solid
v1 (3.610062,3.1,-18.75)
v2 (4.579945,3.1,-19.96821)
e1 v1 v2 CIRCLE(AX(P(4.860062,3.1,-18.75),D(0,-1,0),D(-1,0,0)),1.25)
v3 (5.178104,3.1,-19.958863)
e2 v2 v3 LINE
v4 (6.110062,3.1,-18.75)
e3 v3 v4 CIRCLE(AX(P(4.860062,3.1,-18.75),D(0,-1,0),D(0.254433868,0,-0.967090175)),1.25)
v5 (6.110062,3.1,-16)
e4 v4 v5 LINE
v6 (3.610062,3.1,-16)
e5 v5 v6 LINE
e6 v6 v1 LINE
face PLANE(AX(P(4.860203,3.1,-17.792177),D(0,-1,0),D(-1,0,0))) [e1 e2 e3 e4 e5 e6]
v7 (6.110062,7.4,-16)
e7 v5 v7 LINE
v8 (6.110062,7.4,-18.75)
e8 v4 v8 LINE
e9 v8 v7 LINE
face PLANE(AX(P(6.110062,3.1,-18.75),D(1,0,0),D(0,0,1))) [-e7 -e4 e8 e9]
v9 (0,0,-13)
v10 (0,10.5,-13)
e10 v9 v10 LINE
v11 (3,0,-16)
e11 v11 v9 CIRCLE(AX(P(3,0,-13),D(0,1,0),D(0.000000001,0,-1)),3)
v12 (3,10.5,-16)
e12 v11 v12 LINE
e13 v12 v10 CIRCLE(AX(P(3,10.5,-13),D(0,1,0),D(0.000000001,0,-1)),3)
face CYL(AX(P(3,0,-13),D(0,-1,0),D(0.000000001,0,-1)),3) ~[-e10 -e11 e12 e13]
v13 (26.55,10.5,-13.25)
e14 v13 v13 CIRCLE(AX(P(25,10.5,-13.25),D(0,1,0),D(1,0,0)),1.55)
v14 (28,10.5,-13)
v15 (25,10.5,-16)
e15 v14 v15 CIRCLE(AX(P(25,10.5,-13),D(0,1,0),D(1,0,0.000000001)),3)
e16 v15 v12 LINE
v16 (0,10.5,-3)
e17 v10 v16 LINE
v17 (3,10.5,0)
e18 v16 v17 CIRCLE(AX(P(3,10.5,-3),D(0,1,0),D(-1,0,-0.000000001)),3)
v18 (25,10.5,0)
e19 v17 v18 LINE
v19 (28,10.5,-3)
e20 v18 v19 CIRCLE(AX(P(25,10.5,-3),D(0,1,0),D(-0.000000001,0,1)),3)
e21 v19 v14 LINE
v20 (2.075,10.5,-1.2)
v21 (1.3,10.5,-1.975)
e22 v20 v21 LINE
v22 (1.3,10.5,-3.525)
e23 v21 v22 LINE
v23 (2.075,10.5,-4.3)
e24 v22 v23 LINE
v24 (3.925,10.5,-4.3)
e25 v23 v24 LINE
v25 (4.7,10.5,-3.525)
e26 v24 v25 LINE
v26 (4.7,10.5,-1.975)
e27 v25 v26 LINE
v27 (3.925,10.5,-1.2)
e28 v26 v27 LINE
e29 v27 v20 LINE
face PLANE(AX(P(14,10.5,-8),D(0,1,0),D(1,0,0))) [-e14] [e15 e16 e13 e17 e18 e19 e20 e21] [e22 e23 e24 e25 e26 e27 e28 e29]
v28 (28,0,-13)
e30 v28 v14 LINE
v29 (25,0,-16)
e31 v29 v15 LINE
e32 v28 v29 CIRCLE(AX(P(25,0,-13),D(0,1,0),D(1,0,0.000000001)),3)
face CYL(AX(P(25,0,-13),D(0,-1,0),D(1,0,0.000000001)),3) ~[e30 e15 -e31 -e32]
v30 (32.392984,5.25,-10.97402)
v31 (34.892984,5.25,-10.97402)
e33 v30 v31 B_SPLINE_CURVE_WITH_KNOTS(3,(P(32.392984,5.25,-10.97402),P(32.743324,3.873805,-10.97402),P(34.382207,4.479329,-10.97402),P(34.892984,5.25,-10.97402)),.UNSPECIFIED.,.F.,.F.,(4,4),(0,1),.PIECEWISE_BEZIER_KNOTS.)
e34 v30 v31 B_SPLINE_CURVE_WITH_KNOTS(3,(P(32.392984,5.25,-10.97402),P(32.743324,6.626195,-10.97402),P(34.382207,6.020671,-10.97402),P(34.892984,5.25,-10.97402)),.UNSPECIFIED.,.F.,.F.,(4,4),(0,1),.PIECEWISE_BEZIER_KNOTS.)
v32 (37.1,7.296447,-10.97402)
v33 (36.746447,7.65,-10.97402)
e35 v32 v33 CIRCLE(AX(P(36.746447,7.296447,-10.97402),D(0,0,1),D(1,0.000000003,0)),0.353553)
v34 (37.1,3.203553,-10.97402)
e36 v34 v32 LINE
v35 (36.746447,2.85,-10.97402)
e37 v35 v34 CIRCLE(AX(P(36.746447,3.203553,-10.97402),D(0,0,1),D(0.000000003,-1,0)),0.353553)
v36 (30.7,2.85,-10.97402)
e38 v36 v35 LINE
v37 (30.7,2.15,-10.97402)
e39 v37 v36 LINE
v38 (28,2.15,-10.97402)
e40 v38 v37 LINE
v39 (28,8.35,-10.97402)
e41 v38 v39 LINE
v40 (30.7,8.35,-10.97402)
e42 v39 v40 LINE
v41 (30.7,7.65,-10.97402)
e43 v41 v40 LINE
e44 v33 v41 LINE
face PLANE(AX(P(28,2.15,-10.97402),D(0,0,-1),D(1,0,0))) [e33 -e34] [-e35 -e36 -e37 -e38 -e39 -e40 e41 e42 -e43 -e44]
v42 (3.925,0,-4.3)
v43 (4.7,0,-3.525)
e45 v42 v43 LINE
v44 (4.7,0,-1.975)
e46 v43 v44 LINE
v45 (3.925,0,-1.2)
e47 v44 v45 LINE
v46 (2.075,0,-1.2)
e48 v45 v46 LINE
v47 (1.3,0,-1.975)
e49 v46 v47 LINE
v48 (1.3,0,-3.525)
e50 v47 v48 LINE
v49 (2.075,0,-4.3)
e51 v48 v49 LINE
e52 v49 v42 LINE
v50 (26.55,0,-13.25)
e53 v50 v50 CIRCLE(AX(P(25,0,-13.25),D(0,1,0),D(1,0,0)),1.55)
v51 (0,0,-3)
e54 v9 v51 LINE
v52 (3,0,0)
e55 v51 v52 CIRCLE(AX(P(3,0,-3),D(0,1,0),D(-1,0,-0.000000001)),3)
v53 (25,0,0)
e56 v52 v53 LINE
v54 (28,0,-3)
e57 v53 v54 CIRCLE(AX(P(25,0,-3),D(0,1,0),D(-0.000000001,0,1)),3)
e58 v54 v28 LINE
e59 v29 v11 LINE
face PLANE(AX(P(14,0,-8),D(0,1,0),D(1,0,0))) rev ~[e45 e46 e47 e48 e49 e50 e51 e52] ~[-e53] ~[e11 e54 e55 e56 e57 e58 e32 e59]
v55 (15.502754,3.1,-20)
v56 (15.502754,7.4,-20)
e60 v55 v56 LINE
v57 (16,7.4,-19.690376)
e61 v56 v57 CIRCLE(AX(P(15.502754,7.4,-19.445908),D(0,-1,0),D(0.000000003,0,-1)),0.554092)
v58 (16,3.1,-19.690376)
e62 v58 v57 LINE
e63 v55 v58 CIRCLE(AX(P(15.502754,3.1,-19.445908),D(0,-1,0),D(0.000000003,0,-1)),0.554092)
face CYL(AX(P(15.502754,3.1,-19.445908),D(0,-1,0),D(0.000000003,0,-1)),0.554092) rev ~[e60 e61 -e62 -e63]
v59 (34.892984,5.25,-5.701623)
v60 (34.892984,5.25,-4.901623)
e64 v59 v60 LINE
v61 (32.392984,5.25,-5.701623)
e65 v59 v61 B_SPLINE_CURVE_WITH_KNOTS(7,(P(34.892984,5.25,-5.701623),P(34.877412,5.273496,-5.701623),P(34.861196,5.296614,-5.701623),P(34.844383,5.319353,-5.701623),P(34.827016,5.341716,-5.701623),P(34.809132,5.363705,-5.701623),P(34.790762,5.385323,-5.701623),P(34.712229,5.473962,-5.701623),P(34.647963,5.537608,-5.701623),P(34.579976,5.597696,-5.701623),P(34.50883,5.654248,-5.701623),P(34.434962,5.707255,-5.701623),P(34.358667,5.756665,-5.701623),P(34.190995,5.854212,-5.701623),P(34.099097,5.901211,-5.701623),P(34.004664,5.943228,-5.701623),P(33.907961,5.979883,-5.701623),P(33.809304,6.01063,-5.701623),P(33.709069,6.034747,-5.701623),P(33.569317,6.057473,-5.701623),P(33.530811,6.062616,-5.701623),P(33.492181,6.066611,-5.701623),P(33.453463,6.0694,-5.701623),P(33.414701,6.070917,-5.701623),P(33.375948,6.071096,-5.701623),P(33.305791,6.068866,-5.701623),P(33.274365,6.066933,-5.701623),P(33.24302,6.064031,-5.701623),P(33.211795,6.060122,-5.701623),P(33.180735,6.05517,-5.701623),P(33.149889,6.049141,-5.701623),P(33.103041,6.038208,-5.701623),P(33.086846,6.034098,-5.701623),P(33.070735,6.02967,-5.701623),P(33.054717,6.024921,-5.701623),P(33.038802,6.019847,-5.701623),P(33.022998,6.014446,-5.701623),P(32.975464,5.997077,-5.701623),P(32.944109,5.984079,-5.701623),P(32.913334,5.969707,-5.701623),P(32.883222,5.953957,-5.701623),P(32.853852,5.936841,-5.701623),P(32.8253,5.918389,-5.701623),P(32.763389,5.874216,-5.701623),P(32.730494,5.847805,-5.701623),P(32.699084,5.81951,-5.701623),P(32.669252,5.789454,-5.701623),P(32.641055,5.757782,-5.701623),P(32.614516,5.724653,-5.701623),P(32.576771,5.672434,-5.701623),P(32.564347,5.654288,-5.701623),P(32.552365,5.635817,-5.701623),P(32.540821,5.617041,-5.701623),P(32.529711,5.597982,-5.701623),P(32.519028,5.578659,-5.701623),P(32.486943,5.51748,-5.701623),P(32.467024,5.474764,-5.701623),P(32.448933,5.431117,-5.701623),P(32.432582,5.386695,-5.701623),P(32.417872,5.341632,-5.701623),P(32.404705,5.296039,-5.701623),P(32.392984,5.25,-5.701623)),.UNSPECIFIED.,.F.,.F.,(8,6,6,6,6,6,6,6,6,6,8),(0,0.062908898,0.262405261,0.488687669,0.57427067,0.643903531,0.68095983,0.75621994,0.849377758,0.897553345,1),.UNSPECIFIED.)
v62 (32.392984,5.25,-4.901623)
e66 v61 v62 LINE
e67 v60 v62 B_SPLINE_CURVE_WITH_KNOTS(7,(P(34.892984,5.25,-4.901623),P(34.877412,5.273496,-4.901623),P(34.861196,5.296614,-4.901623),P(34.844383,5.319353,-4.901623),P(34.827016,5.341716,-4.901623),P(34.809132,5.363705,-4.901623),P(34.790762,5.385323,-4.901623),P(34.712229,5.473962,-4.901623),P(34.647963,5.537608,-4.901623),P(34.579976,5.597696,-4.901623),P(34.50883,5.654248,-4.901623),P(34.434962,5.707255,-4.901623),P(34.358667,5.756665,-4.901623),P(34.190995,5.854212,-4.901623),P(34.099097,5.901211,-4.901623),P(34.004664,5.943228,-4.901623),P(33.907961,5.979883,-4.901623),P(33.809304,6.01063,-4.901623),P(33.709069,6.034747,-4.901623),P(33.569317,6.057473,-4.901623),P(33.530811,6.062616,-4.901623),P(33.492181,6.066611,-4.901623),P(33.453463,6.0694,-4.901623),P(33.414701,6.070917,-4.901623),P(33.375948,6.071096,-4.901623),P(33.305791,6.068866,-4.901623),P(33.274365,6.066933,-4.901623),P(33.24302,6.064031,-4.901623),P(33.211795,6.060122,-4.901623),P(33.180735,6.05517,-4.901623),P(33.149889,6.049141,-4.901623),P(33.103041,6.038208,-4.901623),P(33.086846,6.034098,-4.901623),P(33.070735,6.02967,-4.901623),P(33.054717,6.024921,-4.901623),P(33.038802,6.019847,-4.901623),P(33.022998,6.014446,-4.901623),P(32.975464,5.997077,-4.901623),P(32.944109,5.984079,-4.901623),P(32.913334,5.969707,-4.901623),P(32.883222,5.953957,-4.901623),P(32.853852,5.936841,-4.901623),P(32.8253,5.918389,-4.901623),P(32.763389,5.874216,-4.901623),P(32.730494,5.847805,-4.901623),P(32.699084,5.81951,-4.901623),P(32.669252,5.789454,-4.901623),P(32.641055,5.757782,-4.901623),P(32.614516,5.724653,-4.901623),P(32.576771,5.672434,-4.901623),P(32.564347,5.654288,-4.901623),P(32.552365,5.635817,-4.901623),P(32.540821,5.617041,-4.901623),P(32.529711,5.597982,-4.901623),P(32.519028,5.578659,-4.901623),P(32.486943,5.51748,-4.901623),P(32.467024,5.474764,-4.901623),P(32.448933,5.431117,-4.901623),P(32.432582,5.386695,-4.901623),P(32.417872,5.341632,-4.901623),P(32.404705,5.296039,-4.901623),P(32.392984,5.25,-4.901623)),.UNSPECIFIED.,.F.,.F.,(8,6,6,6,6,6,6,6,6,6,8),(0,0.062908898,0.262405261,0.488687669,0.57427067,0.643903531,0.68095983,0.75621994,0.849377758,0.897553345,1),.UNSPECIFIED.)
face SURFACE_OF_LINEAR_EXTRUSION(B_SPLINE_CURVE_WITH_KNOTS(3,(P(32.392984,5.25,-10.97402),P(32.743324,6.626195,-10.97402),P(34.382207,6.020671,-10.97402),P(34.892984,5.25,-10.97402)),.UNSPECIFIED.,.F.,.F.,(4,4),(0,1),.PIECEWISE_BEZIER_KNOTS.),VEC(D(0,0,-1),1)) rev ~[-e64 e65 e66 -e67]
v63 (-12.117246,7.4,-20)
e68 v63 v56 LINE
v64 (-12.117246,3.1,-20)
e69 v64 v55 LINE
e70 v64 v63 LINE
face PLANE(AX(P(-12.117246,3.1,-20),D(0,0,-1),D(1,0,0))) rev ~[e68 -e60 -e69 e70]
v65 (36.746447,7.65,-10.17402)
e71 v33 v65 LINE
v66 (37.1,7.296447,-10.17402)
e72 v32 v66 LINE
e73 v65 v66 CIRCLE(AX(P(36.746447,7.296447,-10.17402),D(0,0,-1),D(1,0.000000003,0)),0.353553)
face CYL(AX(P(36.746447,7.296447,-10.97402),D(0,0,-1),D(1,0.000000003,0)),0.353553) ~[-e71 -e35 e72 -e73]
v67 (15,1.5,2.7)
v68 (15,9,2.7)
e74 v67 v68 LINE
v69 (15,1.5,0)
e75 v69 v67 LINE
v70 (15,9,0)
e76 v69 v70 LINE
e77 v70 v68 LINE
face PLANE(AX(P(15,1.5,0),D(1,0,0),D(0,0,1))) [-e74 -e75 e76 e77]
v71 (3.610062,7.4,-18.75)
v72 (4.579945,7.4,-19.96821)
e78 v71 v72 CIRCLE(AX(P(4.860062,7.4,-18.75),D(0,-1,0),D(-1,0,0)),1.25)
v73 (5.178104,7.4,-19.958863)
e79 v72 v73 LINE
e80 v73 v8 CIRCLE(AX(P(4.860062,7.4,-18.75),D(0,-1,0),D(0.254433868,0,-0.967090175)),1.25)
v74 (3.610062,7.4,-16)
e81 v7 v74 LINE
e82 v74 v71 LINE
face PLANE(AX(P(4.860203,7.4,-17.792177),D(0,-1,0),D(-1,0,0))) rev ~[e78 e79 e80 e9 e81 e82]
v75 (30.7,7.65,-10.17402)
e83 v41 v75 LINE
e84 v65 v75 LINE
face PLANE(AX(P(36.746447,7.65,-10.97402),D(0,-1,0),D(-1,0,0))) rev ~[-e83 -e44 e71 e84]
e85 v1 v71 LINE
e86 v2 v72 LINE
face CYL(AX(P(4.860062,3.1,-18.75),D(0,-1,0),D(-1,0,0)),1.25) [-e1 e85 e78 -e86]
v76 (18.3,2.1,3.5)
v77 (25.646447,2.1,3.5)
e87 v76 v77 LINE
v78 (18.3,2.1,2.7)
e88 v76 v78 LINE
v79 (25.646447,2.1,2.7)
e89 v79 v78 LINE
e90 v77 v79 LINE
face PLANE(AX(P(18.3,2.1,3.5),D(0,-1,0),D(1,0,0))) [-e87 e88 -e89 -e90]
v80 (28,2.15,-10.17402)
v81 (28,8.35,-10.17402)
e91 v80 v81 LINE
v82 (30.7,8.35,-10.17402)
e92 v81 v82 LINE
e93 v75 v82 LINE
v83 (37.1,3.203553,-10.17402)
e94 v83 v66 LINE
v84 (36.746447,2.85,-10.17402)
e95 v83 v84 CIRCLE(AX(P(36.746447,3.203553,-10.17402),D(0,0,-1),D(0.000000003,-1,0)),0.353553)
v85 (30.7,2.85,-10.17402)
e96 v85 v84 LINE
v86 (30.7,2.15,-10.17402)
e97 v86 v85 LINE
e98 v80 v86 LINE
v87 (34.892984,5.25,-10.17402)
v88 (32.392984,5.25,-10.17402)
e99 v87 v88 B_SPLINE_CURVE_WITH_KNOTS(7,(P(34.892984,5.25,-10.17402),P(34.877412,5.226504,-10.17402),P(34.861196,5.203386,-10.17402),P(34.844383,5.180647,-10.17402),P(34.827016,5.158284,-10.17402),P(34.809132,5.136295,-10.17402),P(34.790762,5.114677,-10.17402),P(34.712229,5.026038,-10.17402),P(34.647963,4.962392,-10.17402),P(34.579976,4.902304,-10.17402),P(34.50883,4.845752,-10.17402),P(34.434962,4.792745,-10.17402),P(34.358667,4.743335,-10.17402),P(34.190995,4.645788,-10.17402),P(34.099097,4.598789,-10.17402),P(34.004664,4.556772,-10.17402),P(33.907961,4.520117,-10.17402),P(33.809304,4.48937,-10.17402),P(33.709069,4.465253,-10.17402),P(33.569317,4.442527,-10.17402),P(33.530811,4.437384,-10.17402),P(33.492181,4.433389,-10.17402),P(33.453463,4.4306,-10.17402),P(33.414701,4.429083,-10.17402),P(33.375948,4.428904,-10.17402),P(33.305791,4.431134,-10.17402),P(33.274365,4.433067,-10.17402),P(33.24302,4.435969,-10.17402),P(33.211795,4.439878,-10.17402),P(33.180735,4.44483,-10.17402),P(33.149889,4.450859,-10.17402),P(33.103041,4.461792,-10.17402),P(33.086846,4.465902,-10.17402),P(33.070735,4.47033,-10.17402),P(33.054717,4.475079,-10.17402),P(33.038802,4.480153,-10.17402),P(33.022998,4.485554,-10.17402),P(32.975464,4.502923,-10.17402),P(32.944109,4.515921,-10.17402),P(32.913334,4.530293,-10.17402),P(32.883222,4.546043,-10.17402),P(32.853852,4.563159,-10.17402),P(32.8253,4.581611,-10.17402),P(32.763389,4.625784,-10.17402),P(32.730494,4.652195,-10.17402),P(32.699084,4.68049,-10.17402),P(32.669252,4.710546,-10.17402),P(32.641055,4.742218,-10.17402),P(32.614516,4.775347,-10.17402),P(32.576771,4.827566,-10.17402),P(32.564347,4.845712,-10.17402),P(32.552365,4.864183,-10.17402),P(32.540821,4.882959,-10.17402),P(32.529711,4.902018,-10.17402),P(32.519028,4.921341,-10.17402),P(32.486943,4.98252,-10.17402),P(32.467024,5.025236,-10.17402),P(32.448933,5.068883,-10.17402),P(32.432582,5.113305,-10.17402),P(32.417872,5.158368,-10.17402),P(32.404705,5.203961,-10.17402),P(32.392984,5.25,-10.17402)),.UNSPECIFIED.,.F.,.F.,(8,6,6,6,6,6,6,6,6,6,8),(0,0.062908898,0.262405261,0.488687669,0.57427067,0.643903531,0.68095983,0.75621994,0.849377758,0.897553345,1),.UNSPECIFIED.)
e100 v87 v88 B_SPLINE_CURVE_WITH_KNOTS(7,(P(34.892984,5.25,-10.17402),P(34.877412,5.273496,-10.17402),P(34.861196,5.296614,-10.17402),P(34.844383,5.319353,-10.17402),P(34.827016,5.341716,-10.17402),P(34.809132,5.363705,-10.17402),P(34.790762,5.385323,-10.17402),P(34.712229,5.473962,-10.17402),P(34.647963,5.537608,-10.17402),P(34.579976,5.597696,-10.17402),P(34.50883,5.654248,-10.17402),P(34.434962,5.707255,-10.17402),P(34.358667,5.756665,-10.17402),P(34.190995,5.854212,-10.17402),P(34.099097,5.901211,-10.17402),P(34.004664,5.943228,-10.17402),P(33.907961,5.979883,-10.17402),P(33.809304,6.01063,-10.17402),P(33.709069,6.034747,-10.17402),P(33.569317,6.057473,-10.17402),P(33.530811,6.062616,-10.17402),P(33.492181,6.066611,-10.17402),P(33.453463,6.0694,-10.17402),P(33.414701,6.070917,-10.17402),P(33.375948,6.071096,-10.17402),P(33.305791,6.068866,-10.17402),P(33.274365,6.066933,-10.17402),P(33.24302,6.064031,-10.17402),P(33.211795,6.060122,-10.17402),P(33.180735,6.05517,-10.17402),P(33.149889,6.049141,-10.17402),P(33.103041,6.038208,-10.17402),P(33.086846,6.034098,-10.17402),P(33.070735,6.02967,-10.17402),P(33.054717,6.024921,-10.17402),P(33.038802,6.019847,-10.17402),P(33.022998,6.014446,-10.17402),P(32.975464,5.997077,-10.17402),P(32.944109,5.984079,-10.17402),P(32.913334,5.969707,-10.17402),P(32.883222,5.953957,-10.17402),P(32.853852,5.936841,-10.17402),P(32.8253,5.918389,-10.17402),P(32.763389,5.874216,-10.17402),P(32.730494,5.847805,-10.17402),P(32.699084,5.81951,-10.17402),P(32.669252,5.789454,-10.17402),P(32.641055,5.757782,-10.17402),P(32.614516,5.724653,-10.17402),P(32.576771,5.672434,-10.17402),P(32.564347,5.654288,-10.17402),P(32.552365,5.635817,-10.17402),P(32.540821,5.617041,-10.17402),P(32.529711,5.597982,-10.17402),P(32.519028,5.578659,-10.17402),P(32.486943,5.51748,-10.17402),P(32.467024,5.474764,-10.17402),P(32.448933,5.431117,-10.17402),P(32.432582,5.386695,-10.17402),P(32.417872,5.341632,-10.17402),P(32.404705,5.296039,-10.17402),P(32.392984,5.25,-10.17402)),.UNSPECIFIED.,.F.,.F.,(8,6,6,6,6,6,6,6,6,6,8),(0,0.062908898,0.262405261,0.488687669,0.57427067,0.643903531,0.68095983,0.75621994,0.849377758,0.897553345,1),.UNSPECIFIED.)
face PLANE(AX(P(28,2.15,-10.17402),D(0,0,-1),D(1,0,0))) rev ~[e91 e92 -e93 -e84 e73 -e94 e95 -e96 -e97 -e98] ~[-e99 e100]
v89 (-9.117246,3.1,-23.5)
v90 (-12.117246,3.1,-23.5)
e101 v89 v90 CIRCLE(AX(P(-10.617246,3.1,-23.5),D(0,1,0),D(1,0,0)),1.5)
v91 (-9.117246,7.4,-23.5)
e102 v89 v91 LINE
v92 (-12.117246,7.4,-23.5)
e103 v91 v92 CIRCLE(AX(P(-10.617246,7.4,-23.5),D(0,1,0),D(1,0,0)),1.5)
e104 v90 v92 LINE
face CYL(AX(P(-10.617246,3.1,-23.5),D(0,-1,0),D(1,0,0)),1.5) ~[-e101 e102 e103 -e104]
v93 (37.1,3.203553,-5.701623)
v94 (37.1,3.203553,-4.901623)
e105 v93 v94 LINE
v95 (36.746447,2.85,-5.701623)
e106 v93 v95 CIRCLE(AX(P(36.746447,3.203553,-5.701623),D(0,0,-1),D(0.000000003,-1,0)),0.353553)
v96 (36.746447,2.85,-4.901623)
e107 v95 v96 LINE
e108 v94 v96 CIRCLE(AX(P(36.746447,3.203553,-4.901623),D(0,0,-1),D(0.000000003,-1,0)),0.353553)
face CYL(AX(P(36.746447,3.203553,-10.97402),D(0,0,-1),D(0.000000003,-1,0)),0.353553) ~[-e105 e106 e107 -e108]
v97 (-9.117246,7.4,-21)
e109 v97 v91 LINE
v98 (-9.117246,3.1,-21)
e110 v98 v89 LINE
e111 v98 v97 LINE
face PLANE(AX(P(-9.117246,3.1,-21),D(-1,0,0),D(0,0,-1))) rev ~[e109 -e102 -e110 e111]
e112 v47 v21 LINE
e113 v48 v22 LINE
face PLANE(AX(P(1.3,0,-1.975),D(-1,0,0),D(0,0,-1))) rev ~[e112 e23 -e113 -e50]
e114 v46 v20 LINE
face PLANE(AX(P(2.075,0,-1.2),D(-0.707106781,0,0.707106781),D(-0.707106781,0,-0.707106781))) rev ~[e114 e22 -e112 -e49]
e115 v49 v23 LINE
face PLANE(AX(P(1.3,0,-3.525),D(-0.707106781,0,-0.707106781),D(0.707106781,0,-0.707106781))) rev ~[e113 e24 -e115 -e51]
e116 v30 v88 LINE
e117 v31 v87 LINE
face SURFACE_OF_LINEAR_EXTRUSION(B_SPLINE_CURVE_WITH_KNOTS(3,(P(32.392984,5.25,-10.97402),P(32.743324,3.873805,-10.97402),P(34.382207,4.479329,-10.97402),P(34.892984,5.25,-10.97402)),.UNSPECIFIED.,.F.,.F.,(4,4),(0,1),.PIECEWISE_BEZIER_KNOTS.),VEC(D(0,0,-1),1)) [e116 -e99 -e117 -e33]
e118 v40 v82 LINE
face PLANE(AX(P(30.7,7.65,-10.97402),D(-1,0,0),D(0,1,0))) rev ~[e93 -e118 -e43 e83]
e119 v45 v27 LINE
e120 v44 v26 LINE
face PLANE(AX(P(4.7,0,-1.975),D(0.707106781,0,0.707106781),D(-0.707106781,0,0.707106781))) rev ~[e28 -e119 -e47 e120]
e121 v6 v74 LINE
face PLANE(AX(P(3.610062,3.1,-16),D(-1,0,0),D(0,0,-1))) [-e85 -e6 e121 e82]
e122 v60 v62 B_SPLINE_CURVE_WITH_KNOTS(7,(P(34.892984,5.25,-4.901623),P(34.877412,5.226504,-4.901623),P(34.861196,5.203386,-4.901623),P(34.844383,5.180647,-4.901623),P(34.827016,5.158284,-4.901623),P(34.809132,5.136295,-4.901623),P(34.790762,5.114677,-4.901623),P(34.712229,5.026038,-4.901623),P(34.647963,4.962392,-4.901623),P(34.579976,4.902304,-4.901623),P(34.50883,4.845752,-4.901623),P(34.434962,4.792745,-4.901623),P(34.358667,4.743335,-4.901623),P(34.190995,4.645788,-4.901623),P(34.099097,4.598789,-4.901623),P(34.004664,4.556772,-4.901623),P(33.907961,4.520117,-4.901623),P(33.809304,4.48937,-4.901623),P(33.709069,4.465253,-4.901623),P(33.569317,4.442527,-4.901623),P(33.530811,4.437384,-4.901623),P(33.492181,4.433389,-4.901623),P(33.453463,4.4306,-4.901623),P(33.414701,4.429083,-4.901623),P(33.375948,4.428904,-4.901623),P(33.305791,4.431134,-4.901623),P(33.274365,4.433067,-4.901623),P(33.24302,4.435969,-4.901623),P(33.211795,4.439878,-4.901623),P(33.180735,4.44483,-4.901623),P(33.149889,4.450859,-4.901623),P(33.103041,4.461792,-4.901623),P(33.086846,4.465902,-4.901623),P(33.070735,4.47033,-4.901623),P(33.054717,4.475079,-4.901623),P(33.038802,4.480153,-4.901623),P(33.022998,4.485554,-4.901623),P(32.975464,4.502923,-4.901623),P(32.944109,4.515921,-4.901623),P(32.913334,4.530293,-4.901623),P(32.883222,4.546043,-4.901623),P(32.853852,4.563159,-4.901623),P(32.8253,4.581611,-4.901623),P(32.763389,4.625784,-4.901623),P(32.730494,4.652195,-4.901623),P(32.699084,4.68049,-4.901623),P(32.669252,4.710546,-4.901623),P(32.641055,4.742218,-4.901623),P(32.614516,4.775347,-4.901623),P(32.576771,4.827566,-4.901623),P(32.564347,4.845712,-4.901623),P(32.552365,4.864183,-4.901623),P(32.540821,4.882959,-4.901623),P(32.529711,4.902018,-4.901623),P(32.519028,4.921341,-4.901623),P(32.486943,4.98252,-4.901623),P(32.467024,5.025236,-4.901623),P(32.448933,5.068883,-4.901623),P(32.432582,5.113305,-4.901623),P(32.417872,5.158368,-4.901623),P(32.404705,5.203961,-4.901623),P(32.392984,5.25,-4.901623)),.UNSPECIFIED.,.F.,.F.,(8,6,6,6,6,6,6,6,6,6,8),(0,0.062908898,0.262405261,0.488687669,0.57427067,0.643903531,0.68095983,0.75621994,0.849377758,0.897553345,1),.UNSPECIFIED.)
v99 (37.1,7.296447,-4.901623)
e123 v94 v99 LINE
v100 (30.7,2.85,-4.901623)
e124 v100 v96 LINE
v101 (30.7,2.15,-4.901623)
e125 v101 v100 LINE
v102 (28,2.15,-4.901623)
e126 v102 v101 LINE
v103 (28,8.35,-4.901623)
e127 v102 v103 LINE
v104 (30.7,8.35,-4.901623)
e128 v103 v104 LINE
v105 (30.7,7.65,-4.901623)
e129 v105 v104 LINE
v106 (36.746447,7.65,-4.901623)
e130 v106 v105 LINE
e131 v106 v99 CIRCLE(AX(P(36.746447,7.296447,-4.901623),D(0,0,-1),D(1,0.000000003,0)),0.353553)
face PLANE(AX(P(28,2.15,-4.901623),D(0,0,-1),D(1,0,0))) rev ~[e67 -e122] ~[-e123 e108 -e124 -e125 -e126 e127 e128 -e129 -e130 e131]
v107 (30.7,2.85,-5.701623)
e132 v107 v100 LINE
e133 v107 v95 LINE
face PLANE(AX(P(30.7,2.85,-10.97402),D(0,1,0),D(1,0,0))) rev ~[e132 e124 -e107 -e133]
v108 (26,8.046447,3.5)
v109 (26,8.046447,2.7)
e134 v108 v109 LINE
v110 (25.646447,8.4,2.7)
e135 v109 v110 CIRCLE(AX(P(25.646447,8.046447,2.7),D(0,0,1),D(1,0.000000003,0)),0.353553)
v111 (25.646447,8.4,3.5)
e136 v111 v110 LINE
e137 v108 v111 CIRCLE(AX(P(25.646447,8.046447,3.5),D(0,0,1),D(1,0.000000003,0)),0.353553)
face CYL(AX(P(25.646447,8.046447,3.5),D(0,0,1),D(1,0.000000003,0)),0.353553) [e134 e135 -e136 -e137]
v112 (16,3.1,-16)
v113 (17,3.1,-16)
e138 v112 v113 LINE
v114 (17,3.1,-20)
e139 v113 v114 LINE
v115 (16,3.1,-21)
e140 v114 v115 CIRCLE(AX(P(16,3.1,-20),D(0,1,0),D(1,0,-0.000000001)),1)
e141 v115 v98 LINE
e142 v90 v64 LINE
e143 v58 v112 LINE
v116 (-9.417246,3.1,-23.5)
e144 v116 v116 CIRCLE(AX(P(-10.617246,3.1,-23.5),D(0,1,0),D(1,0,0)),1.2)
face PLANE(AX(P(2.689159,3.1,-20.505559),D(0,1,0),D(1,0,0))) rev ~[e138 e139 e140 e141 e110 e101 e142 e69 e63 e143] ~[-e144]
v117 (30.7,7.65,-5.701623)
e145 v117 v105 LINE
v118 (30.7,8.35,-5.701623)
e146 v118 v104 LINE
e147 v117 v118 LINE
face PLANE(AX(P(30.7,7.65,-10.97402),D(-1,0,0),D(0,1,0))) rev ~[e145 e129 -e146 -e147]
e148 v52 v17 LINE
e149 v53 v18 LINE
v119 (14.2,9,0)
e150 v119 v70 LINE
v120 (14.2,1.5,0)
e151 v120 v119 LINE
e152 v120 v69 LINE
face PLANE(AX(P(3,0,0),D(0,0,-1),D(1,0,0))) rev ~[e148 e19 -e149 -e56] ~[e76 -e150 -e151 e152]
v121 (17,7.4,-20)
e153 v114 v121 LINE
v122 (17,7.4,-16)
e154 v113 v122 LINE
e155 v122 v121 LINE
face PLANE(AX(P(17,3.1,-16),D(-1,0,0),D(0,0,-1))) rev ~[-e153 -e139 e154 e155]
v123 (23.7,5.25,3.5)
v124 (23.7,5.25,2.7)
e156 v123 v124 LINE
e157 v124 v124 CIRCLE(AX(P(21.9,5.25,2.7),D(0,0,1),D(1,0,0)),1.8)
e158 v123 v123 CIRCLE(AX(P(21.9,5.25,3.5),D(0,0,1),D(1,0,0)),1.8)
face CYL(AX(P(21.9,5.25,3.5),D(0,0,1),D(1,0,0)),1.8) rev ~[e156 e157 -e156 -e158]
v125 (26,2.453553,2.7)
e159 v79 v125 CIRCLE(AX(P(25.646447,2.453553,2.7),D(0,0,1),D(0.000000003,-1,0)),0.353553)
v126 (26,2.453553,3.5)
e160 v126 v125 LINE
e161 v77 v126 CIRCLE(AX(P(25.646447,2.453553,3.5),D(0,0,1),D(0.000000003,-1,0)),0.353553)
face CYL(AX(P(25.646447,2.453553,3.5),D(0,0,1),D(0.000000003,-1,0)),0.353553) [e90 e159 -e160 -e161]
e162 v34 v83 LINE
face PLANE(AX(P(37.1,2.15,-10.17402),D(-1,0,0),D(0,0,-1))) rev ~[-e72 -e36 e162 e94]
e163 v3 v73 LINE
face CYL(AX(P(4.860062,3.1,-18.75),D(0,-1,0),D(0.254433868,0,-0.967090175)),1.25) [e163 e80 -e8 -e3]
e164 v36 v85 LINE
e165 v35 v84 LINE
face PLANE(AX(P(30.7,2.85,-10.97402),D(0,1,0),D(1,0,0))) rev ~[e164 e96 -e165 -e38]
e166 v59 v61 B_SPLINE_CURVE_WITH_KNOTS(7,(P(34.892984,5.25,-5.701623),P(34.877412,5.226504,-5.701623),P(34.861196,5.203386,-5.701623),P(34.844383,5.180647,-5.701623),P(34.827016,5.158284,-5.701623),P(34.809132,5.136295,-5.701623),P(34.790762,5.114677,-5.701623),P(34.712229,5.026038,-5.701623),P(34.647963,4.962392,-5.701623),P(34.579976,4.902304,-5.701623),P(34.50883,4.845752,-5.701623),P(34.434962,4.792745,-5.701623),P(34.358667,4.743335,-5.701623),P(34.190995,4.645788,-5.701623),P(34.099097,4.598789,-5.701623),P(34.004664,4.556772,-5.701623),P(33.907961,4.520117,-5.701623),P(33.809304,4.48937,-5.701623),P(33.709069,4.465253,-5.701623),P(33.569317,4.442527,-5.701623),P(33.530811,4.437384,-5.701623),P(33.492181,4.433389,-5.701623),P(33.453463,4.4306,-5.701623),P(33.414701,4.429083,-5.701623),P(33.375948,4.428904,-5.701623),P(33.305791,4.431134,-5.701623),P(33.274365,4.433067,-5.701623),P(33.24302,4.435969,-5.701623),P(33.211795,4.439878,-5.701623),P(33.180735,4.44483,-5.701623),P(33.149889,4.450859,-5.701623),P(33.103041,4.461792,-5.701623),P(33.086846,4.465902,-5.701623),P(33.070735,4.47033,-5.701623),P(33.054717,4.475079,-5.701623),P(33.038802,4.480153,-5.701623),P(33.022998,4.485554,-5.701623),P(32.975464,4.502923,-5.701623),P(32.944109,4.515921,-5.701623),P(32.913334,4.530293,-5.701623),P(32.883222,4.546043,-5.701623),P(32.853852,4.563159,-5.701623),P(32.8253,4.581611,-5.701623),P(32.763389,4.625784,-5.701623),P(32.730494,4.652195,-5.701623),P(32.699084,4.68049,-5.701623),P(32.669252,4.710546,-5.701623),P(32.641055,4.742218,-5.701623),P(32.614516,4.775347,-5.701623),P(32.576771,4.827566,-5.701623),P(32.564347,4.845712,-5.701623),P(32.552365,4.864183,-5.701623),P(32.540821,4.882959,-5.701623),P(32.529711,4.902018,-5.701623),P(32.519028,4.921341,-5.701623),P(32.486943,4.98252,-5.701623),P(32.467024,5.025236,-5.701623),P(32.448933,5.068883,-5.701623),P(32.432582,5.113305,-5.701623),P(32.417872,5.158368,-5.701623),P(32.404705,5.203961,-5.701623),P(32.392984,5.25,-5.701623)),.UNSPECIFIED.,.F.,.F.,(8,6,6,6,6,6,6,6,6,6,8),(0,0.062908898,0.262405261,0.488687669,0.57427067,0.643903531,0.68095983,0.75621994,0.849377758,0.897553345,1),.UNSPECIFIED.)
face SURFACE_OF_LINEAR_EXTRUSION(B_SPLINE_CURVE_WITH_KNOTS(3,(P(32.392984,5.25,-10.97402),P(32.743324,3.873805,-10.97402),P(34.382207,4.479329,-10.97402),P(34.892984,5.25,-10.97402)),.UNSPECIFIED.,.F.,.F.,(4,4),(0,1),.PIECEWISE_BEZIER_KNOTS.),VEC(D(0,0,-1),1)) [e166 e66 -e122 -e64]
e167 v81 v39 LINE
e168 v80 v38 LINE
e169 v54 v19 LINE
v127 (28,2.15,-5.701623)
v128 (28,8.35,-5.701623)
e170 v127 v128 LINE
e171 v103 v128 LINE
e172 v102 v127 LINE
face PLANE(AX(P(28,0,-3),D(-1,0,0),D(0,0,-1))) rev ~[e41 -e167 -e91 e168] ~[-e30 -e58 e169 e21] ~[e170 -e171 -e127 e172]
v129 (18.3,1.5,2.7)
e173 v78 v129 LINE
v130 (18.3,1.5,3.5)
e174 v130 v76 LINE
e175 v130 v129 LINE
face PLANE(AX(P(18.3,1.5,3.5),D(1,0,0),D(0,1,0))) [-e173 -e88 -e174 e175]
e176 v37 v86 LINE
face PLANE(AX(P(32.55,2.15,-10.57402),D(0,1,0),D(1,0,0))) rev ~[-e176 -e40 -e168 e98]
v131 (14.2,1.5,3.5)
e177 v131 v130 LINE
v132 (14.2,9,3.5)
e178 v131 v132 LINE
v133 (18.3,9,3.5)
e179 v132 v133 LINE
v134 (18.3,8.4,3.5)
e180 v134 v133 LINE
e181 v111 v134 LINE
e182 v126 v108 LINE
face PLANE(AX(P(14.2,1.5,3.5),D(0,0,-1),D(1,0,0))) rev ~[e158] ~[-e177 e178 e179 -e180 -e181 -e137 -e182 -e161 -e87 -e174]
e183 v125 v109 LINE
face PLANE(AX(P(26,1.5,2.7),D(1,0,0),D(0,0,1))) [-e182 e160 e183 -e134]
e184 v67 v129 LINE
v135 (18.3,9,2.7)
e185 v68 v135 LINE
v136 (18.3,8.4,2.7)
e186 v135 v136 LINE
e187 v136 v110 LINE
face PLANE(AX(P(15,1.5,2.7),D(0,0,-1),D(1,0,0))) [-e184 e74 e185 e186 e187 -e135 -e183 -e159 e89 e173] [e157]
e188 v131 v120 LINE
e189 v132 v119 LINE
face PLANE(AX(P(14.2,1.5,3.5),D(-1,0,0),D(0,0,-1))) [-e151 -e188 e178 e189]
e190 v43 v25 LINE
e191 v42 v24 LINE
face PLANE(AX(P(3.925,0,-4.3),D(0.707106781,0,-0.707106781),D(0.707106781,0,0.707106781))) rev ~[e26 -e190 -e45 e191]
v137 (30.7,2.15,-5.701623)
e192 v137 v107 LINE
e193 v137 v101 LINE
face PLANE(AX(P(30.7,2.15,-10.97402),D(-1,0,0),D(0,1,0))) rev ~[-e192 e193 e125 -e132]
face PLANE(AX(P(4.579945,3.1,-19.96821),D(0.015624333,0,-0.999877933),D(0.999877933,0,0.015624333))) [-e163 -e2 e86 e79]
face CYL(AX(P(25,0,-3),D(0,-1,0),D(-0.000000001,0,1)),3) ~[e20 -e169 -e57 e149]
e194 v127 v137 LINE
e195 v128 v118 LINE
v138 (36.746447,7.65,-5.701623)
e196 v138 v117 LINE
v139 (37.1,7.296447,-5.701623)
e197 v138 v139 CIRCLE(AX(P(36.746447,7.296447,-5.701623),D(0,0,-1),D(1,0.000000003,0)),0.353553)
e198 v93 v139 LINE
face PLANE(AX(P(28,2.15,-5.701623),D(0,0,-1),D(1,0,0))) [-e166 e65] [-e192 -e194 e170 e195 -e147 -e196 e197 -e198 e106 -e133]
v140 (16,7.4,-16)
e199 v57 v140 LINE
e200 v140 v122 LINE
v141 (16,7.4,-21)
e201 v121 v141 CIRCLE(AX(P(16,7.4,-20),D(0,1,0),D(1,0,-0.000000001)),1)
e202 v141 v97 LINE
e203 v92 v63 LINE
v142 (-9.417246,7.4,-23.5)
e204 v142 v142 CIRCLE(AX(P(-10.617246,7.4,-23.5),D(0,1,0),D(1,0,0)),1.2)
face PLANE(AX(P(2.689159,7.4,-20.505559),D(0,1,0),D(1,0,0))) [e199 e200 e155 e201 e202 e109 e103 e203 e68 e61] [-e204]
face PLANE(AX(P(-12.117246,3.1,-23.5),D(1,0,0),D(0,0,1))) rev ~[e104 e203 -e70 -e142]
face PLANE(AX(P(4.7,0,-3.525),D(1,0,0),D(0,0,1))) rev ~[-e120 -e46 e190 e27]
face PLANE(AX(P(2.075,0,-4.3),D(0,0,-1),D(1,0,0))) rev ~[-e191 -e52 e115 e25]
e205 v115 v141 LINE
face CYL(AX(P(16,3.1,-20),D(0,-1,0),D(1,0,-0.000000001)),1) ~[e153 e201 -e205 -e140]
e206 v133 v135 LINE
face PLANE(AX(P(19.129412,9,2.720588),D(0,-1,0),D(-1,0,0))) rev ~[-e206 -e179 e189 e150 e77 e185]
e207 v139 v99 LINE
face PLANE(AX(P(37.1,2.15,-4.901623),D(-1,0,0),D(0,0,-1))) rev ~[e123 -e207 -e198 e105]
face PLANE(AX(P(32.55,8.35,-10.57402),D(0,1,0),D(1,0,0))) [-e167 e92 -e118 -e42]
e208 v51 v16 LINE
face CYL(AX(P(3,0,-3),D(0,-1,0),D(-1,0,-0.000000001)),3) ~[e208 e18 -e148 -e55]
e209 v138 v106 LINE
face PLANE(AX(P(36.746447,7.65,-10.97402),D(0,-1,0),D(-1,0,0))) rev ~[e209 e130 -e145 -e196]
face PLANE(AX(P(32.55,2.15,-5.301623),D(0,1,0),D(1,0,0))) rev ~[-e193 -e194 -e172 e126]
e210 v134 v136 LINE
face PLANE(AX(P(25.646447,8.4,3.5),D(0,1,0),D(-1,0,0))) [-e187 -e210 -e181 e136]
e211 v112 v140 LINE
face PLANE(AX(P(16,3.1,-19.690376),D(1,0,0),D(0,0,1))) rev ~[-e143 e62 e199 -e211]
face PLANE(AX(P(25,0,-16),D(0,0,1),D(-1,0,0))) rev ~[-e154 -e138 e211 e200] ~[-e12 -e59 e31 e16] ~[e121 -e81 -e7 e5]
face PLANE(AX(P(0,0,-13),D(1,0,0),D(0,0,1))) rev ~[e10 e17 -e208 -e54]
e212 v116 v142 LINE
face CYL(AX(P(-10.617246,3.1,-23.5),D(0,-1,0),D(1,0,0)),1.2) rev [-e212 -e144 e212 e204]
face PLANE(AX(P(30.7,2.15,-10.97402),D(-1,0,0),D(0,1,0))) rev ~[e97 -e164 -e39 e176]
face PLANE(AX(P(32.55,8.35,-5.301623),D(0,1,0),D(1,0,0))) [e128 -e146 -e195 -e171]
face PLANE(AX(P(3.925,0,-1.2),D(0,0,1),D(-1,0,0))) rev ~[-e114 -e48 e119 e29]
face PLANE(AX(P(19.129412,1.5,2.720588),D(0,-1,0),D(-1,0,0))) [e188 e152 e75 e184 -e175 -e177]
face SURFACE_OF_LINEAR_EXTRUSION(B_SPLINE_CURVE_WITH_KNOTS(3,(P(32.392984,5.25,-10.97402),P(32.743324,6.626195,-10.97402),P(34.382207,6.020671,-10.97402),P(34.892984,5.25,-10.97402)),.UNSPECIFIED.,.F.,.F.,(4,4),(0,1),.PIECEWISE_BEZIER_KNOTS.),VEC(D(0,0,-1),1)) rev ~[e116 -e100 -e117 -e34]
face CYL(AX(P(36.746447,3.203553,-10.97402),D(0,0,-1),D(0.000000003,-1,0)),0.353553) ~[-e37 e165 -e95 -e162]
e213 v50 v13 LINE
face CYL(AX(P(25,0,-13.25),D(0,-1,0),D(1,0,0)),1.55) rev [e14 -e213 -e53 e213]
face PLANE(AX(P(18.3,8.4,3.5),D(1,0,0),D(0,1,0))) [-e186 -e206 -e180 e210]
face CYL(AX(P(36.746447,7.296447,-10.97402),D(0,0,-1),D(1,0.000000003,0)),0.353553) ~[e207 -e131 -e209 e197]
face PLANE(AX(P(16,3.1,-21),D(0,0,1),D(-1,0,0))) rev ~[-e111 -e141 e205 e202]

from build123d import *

# Parameters (mm, degrees)
CROQUIS1_R              = 1.55
SALIENTE_EXTRUIR1_DEPTH = 10.5
CROQUIS2_R              = 1.2
SALIENTE_EXTRUIR2_DEPTH = 4.3
SALIENTE_EXTRUIR6_DEPTH = 4.3
SALIENTE_EXTRUIR7_DEPTH = 7.5
CROQUIS5_R              = 1.8
CORTAR_EXTRUIR1_DEPTH   = 1.5
CROQUIS6_W              = 9.1
CROQUIS6_H              = 0.8
SALIENTE_EXTRUIR8_DEPTH = 6.2
CORTAR_EXTRUIR2_DEPTH   = 7.2


with BuildPart() as part:
    # Croquis1 → Saliente-Extruir1 (new body)
    with BuildSketch(Plane(origin=(0, 0, 0), x_dir=(1, 0, 0), z_dir=(0, 1, 0))):
        with BuildLine():
            Line((3, 0), (25, 0))
            ThreePointArc((25, 0), (27.121320344, 0.878679656), (28, 3))
            Line((28, 3), (28, 13))
            ThreePointArc((28, 13), (27.121320344, 15.121320344), (25, 16))
            Line((25, 16), (3, 16))
            ThreePointArc((3, 16), (0.878679656, 15.121320344), (0, 13))
            Line((0, 13), (0, 3))
            ThreePointArc((0, 3), (0.878679656, 0.878679656), (3, 0))
        make_face()
        with Locations((25, 13.25)):
            Circle(CROQUIS1_R, mode=Mode.SUBTRACT)
        Polygon((1.3, 3.525), (2.075, 4.3), (3.925, 4.3), (4.7, 3.525), (4.7, 1.975), (3.925, 1.2), (2.075, 1.2), (1.3, 1.975), (1.3, 2.75), align=None, mode=Mode.SUBTRACT)
    extrude(amount=SALIENTE_EXTRUIR1_DEPTH)

    # Croquis2 → Saliente-Extruir2 (add)
    with BuildSketch(Plane(origin=(0, 3.1, 0), x_dir=(1, 0, 0), z_dir=(0, 1, 0))):
        with BuildLine():
            Line((-12.117246013, 20), (15.502753987, 20))
            ThreePointArc((15.502753987, 20), (15.795636527, 19.916267232), (16, 19.69037582))
            Line((16, 19.69037582), (16, 16))
            Line((16, 16), (17, 16))
            Line((17, 16), (17, 20))
            ThreePointArc((17, 20), (16.707106781, 20.707106781), (16, 21))
            Line((16, 21), (-9.117246013, 21))
            Line((-9.117246013, 21), (-9.117246013, 23.5))
            ThreePointArc((-9.117246013, 23.5), (-10.617246013, 25), (-12.117246013, 23.5))
            Line((-12.117246013, 23.5), (-12.117246013, 21))
            Line((-12.117246013, 21), (-12.117246013, 20))
        make_face()
        with Locations((-10.617246013, 23.5)):
            Circle(CROQUIS2_R, mode=Mode.SUBTRACT)
    extrude(amount=SALIENTE_EXTRUIR2_DEPTH)

    # Croquis3 → Saliente-Extruir6 (add)
    with BuildSketch(Plane(origin=(0, 3.1, 0), x_dir=(1, 0, 0), z_dir=(0, 1, 0))):
        with BuildLine():
            Line((4.579945188, 19.96820969), (5.178103837, 19.958862719))
            ThreePointArc((5.178103837, 19.958862719), (5.85002436, 19.513199542), (6.110061503, 18.75))
            Line((6.110061503, 18.75), (6.110061503, 16))
            Line((6.110061503, 16), (3.610061503, 16))
            Line((3.610061503, 16), (3.610061503, 18.75))
            ThreePointArc((3.610061503, 18.75), (3.882143972, 19.52857389), (4.579945188, 19.96820969))
        make_face()
    extrude(amount=SALIENTE_EXTRUIR6_DEPTH)

    # Croquis4 → Saliente-Extruir7 (add)
    with BuildSketch(Plane(origin=(0, 1.5, 0), x_dir=(1, 0, 0), z_dir=(0, 1, 0))):
        Polygon((15, 0), (15, -2.7), (26, -2.7), (26, -3.5), (15, -3.5), (14.2, -3.5), (14.2, 0), align=None)
    extrude(amount=SALIENTE_EXTRUIR7_DEPTH)

    # Croquis5 → Cortar-Extruir1 (cut)
    with BuildSketch(Plane.XY.offset(3.5)):
        with Locations((21.9, 5.25)):
            Circle(CROQUIS5_R)
        with BuildLine():
            Line((26, 1.5), (18.3, 1.5))
            Line((18.3, 1.5), (18.3, 2.1))
            Line((18.3, 2.1), (25.646446609, 2.1))
            ThreePointArc((25.646446609, 2.1), (25.896446609, 2.203553391), (26, 2.453553391))
            Line((26, 2.453553391), (26, 8.046446609))
            ThreePointArc((26, 8.046446609), (25.896446609, 8.296446609), (25.646446609, 8.4))
            Line((25.646446609, 8.4), (18.3, 8.4))
            Line((18.3, 8.4), (18.3, 9))
            Line((18.3, 9), (27.293222539, 9))
            Line((27.293222539, 9), (27.293222539, 1.5))
            Line((27.293222539, 1.5), (26, 1.5))
        make_face()
    extrude(amount=-CORTAR_EXTRUIR1_DEPTH, mode=Mode.SUBTRACT)

    # Croquis6 → Saliente-Extruir8 (add)
    with BuildSketch(Plane(origin=(0, 2.15, 0), x_dir=(1, 0, 0), z_dir=(0, 1, 0))):
        with Locations((32.55, 10.574019752)):
            Rectangle(CROQUIS6_W, CROQUIS6_H)
        with Locations((32.55, 5.301623485)):
            Rectangle(CROQUIS6_W, CROQUIS6_H)
    extrude(amount=SALIENTE_EXTRUIR8_DEPTH)

    # Croquis7 → Cortar-Extruir2 (cut)
    with BuildSketch(Plane(origin=(0, 0, -10.974019752), x_dir=(-1, 0, 0), z_dir=(0, 0, -1))):
        with BuildLine():
            Line((-37.1, 2.15), (-30.7, 2.15))
            Line((-30.7, 2.15), (-30.7, 2.85))
            Line((-30.7, 2.85), (-36.746446609, 2.85))
            ThreePointArc((-36.746446609, 2.85), (-36.996446609, 2.953553391), (-37.1, 3.203553391))
            Line((-37.1, 3.203553391), (-37.1, 7.296446609))
            ThreePointArc((-37.1, 7.296446609), (-36.996446609, 7.546446609), (-36.746446609, 7.65))
            Line((-36.746446609, 7.65), (-30.7, 7.65))
            Line((-30.7, 7.65), (-30.7, 8.35))
            Line((-30.7, 8.35), (-37.1, 8.35))
            Line((-37.1, 8.35), (-38.596530357, 8.35))
            Line((-38.596530357, 8.35), (-38.596530357, 2.85))
            Line((-38.596530357, 2.85), (-38.596530357, 2.15))
            Line((-38.596530357, 2.15), (-37.1, 2.15))
        make_face()
        with BuildLine():
            add(Edge.make_bspline(
                [(-32.392984362, 5.25), (-32.743324346, 3.873805387), (-34.382207103, 4.479328863), (-34.892984362, 5.25)],
                knots=[0, 0, 0, 0, 1, 1, 1, 1], degree=3))
            add(Edge.make_bspline(
                [(-32.392984362, 5.25), (-32.743324346, 6.626194613), (-34.382207103, 6.020671137), (-34.892984362, 5.25)],
                knots=[0, 0, 0, 0, 1, 1, 1, 1], degree=3))
        make_face()
    extrude(amount=-CORTAR_EXTRUIR2_DEPTH, mode=Mode.SUBTRACT)


solid = part.part
